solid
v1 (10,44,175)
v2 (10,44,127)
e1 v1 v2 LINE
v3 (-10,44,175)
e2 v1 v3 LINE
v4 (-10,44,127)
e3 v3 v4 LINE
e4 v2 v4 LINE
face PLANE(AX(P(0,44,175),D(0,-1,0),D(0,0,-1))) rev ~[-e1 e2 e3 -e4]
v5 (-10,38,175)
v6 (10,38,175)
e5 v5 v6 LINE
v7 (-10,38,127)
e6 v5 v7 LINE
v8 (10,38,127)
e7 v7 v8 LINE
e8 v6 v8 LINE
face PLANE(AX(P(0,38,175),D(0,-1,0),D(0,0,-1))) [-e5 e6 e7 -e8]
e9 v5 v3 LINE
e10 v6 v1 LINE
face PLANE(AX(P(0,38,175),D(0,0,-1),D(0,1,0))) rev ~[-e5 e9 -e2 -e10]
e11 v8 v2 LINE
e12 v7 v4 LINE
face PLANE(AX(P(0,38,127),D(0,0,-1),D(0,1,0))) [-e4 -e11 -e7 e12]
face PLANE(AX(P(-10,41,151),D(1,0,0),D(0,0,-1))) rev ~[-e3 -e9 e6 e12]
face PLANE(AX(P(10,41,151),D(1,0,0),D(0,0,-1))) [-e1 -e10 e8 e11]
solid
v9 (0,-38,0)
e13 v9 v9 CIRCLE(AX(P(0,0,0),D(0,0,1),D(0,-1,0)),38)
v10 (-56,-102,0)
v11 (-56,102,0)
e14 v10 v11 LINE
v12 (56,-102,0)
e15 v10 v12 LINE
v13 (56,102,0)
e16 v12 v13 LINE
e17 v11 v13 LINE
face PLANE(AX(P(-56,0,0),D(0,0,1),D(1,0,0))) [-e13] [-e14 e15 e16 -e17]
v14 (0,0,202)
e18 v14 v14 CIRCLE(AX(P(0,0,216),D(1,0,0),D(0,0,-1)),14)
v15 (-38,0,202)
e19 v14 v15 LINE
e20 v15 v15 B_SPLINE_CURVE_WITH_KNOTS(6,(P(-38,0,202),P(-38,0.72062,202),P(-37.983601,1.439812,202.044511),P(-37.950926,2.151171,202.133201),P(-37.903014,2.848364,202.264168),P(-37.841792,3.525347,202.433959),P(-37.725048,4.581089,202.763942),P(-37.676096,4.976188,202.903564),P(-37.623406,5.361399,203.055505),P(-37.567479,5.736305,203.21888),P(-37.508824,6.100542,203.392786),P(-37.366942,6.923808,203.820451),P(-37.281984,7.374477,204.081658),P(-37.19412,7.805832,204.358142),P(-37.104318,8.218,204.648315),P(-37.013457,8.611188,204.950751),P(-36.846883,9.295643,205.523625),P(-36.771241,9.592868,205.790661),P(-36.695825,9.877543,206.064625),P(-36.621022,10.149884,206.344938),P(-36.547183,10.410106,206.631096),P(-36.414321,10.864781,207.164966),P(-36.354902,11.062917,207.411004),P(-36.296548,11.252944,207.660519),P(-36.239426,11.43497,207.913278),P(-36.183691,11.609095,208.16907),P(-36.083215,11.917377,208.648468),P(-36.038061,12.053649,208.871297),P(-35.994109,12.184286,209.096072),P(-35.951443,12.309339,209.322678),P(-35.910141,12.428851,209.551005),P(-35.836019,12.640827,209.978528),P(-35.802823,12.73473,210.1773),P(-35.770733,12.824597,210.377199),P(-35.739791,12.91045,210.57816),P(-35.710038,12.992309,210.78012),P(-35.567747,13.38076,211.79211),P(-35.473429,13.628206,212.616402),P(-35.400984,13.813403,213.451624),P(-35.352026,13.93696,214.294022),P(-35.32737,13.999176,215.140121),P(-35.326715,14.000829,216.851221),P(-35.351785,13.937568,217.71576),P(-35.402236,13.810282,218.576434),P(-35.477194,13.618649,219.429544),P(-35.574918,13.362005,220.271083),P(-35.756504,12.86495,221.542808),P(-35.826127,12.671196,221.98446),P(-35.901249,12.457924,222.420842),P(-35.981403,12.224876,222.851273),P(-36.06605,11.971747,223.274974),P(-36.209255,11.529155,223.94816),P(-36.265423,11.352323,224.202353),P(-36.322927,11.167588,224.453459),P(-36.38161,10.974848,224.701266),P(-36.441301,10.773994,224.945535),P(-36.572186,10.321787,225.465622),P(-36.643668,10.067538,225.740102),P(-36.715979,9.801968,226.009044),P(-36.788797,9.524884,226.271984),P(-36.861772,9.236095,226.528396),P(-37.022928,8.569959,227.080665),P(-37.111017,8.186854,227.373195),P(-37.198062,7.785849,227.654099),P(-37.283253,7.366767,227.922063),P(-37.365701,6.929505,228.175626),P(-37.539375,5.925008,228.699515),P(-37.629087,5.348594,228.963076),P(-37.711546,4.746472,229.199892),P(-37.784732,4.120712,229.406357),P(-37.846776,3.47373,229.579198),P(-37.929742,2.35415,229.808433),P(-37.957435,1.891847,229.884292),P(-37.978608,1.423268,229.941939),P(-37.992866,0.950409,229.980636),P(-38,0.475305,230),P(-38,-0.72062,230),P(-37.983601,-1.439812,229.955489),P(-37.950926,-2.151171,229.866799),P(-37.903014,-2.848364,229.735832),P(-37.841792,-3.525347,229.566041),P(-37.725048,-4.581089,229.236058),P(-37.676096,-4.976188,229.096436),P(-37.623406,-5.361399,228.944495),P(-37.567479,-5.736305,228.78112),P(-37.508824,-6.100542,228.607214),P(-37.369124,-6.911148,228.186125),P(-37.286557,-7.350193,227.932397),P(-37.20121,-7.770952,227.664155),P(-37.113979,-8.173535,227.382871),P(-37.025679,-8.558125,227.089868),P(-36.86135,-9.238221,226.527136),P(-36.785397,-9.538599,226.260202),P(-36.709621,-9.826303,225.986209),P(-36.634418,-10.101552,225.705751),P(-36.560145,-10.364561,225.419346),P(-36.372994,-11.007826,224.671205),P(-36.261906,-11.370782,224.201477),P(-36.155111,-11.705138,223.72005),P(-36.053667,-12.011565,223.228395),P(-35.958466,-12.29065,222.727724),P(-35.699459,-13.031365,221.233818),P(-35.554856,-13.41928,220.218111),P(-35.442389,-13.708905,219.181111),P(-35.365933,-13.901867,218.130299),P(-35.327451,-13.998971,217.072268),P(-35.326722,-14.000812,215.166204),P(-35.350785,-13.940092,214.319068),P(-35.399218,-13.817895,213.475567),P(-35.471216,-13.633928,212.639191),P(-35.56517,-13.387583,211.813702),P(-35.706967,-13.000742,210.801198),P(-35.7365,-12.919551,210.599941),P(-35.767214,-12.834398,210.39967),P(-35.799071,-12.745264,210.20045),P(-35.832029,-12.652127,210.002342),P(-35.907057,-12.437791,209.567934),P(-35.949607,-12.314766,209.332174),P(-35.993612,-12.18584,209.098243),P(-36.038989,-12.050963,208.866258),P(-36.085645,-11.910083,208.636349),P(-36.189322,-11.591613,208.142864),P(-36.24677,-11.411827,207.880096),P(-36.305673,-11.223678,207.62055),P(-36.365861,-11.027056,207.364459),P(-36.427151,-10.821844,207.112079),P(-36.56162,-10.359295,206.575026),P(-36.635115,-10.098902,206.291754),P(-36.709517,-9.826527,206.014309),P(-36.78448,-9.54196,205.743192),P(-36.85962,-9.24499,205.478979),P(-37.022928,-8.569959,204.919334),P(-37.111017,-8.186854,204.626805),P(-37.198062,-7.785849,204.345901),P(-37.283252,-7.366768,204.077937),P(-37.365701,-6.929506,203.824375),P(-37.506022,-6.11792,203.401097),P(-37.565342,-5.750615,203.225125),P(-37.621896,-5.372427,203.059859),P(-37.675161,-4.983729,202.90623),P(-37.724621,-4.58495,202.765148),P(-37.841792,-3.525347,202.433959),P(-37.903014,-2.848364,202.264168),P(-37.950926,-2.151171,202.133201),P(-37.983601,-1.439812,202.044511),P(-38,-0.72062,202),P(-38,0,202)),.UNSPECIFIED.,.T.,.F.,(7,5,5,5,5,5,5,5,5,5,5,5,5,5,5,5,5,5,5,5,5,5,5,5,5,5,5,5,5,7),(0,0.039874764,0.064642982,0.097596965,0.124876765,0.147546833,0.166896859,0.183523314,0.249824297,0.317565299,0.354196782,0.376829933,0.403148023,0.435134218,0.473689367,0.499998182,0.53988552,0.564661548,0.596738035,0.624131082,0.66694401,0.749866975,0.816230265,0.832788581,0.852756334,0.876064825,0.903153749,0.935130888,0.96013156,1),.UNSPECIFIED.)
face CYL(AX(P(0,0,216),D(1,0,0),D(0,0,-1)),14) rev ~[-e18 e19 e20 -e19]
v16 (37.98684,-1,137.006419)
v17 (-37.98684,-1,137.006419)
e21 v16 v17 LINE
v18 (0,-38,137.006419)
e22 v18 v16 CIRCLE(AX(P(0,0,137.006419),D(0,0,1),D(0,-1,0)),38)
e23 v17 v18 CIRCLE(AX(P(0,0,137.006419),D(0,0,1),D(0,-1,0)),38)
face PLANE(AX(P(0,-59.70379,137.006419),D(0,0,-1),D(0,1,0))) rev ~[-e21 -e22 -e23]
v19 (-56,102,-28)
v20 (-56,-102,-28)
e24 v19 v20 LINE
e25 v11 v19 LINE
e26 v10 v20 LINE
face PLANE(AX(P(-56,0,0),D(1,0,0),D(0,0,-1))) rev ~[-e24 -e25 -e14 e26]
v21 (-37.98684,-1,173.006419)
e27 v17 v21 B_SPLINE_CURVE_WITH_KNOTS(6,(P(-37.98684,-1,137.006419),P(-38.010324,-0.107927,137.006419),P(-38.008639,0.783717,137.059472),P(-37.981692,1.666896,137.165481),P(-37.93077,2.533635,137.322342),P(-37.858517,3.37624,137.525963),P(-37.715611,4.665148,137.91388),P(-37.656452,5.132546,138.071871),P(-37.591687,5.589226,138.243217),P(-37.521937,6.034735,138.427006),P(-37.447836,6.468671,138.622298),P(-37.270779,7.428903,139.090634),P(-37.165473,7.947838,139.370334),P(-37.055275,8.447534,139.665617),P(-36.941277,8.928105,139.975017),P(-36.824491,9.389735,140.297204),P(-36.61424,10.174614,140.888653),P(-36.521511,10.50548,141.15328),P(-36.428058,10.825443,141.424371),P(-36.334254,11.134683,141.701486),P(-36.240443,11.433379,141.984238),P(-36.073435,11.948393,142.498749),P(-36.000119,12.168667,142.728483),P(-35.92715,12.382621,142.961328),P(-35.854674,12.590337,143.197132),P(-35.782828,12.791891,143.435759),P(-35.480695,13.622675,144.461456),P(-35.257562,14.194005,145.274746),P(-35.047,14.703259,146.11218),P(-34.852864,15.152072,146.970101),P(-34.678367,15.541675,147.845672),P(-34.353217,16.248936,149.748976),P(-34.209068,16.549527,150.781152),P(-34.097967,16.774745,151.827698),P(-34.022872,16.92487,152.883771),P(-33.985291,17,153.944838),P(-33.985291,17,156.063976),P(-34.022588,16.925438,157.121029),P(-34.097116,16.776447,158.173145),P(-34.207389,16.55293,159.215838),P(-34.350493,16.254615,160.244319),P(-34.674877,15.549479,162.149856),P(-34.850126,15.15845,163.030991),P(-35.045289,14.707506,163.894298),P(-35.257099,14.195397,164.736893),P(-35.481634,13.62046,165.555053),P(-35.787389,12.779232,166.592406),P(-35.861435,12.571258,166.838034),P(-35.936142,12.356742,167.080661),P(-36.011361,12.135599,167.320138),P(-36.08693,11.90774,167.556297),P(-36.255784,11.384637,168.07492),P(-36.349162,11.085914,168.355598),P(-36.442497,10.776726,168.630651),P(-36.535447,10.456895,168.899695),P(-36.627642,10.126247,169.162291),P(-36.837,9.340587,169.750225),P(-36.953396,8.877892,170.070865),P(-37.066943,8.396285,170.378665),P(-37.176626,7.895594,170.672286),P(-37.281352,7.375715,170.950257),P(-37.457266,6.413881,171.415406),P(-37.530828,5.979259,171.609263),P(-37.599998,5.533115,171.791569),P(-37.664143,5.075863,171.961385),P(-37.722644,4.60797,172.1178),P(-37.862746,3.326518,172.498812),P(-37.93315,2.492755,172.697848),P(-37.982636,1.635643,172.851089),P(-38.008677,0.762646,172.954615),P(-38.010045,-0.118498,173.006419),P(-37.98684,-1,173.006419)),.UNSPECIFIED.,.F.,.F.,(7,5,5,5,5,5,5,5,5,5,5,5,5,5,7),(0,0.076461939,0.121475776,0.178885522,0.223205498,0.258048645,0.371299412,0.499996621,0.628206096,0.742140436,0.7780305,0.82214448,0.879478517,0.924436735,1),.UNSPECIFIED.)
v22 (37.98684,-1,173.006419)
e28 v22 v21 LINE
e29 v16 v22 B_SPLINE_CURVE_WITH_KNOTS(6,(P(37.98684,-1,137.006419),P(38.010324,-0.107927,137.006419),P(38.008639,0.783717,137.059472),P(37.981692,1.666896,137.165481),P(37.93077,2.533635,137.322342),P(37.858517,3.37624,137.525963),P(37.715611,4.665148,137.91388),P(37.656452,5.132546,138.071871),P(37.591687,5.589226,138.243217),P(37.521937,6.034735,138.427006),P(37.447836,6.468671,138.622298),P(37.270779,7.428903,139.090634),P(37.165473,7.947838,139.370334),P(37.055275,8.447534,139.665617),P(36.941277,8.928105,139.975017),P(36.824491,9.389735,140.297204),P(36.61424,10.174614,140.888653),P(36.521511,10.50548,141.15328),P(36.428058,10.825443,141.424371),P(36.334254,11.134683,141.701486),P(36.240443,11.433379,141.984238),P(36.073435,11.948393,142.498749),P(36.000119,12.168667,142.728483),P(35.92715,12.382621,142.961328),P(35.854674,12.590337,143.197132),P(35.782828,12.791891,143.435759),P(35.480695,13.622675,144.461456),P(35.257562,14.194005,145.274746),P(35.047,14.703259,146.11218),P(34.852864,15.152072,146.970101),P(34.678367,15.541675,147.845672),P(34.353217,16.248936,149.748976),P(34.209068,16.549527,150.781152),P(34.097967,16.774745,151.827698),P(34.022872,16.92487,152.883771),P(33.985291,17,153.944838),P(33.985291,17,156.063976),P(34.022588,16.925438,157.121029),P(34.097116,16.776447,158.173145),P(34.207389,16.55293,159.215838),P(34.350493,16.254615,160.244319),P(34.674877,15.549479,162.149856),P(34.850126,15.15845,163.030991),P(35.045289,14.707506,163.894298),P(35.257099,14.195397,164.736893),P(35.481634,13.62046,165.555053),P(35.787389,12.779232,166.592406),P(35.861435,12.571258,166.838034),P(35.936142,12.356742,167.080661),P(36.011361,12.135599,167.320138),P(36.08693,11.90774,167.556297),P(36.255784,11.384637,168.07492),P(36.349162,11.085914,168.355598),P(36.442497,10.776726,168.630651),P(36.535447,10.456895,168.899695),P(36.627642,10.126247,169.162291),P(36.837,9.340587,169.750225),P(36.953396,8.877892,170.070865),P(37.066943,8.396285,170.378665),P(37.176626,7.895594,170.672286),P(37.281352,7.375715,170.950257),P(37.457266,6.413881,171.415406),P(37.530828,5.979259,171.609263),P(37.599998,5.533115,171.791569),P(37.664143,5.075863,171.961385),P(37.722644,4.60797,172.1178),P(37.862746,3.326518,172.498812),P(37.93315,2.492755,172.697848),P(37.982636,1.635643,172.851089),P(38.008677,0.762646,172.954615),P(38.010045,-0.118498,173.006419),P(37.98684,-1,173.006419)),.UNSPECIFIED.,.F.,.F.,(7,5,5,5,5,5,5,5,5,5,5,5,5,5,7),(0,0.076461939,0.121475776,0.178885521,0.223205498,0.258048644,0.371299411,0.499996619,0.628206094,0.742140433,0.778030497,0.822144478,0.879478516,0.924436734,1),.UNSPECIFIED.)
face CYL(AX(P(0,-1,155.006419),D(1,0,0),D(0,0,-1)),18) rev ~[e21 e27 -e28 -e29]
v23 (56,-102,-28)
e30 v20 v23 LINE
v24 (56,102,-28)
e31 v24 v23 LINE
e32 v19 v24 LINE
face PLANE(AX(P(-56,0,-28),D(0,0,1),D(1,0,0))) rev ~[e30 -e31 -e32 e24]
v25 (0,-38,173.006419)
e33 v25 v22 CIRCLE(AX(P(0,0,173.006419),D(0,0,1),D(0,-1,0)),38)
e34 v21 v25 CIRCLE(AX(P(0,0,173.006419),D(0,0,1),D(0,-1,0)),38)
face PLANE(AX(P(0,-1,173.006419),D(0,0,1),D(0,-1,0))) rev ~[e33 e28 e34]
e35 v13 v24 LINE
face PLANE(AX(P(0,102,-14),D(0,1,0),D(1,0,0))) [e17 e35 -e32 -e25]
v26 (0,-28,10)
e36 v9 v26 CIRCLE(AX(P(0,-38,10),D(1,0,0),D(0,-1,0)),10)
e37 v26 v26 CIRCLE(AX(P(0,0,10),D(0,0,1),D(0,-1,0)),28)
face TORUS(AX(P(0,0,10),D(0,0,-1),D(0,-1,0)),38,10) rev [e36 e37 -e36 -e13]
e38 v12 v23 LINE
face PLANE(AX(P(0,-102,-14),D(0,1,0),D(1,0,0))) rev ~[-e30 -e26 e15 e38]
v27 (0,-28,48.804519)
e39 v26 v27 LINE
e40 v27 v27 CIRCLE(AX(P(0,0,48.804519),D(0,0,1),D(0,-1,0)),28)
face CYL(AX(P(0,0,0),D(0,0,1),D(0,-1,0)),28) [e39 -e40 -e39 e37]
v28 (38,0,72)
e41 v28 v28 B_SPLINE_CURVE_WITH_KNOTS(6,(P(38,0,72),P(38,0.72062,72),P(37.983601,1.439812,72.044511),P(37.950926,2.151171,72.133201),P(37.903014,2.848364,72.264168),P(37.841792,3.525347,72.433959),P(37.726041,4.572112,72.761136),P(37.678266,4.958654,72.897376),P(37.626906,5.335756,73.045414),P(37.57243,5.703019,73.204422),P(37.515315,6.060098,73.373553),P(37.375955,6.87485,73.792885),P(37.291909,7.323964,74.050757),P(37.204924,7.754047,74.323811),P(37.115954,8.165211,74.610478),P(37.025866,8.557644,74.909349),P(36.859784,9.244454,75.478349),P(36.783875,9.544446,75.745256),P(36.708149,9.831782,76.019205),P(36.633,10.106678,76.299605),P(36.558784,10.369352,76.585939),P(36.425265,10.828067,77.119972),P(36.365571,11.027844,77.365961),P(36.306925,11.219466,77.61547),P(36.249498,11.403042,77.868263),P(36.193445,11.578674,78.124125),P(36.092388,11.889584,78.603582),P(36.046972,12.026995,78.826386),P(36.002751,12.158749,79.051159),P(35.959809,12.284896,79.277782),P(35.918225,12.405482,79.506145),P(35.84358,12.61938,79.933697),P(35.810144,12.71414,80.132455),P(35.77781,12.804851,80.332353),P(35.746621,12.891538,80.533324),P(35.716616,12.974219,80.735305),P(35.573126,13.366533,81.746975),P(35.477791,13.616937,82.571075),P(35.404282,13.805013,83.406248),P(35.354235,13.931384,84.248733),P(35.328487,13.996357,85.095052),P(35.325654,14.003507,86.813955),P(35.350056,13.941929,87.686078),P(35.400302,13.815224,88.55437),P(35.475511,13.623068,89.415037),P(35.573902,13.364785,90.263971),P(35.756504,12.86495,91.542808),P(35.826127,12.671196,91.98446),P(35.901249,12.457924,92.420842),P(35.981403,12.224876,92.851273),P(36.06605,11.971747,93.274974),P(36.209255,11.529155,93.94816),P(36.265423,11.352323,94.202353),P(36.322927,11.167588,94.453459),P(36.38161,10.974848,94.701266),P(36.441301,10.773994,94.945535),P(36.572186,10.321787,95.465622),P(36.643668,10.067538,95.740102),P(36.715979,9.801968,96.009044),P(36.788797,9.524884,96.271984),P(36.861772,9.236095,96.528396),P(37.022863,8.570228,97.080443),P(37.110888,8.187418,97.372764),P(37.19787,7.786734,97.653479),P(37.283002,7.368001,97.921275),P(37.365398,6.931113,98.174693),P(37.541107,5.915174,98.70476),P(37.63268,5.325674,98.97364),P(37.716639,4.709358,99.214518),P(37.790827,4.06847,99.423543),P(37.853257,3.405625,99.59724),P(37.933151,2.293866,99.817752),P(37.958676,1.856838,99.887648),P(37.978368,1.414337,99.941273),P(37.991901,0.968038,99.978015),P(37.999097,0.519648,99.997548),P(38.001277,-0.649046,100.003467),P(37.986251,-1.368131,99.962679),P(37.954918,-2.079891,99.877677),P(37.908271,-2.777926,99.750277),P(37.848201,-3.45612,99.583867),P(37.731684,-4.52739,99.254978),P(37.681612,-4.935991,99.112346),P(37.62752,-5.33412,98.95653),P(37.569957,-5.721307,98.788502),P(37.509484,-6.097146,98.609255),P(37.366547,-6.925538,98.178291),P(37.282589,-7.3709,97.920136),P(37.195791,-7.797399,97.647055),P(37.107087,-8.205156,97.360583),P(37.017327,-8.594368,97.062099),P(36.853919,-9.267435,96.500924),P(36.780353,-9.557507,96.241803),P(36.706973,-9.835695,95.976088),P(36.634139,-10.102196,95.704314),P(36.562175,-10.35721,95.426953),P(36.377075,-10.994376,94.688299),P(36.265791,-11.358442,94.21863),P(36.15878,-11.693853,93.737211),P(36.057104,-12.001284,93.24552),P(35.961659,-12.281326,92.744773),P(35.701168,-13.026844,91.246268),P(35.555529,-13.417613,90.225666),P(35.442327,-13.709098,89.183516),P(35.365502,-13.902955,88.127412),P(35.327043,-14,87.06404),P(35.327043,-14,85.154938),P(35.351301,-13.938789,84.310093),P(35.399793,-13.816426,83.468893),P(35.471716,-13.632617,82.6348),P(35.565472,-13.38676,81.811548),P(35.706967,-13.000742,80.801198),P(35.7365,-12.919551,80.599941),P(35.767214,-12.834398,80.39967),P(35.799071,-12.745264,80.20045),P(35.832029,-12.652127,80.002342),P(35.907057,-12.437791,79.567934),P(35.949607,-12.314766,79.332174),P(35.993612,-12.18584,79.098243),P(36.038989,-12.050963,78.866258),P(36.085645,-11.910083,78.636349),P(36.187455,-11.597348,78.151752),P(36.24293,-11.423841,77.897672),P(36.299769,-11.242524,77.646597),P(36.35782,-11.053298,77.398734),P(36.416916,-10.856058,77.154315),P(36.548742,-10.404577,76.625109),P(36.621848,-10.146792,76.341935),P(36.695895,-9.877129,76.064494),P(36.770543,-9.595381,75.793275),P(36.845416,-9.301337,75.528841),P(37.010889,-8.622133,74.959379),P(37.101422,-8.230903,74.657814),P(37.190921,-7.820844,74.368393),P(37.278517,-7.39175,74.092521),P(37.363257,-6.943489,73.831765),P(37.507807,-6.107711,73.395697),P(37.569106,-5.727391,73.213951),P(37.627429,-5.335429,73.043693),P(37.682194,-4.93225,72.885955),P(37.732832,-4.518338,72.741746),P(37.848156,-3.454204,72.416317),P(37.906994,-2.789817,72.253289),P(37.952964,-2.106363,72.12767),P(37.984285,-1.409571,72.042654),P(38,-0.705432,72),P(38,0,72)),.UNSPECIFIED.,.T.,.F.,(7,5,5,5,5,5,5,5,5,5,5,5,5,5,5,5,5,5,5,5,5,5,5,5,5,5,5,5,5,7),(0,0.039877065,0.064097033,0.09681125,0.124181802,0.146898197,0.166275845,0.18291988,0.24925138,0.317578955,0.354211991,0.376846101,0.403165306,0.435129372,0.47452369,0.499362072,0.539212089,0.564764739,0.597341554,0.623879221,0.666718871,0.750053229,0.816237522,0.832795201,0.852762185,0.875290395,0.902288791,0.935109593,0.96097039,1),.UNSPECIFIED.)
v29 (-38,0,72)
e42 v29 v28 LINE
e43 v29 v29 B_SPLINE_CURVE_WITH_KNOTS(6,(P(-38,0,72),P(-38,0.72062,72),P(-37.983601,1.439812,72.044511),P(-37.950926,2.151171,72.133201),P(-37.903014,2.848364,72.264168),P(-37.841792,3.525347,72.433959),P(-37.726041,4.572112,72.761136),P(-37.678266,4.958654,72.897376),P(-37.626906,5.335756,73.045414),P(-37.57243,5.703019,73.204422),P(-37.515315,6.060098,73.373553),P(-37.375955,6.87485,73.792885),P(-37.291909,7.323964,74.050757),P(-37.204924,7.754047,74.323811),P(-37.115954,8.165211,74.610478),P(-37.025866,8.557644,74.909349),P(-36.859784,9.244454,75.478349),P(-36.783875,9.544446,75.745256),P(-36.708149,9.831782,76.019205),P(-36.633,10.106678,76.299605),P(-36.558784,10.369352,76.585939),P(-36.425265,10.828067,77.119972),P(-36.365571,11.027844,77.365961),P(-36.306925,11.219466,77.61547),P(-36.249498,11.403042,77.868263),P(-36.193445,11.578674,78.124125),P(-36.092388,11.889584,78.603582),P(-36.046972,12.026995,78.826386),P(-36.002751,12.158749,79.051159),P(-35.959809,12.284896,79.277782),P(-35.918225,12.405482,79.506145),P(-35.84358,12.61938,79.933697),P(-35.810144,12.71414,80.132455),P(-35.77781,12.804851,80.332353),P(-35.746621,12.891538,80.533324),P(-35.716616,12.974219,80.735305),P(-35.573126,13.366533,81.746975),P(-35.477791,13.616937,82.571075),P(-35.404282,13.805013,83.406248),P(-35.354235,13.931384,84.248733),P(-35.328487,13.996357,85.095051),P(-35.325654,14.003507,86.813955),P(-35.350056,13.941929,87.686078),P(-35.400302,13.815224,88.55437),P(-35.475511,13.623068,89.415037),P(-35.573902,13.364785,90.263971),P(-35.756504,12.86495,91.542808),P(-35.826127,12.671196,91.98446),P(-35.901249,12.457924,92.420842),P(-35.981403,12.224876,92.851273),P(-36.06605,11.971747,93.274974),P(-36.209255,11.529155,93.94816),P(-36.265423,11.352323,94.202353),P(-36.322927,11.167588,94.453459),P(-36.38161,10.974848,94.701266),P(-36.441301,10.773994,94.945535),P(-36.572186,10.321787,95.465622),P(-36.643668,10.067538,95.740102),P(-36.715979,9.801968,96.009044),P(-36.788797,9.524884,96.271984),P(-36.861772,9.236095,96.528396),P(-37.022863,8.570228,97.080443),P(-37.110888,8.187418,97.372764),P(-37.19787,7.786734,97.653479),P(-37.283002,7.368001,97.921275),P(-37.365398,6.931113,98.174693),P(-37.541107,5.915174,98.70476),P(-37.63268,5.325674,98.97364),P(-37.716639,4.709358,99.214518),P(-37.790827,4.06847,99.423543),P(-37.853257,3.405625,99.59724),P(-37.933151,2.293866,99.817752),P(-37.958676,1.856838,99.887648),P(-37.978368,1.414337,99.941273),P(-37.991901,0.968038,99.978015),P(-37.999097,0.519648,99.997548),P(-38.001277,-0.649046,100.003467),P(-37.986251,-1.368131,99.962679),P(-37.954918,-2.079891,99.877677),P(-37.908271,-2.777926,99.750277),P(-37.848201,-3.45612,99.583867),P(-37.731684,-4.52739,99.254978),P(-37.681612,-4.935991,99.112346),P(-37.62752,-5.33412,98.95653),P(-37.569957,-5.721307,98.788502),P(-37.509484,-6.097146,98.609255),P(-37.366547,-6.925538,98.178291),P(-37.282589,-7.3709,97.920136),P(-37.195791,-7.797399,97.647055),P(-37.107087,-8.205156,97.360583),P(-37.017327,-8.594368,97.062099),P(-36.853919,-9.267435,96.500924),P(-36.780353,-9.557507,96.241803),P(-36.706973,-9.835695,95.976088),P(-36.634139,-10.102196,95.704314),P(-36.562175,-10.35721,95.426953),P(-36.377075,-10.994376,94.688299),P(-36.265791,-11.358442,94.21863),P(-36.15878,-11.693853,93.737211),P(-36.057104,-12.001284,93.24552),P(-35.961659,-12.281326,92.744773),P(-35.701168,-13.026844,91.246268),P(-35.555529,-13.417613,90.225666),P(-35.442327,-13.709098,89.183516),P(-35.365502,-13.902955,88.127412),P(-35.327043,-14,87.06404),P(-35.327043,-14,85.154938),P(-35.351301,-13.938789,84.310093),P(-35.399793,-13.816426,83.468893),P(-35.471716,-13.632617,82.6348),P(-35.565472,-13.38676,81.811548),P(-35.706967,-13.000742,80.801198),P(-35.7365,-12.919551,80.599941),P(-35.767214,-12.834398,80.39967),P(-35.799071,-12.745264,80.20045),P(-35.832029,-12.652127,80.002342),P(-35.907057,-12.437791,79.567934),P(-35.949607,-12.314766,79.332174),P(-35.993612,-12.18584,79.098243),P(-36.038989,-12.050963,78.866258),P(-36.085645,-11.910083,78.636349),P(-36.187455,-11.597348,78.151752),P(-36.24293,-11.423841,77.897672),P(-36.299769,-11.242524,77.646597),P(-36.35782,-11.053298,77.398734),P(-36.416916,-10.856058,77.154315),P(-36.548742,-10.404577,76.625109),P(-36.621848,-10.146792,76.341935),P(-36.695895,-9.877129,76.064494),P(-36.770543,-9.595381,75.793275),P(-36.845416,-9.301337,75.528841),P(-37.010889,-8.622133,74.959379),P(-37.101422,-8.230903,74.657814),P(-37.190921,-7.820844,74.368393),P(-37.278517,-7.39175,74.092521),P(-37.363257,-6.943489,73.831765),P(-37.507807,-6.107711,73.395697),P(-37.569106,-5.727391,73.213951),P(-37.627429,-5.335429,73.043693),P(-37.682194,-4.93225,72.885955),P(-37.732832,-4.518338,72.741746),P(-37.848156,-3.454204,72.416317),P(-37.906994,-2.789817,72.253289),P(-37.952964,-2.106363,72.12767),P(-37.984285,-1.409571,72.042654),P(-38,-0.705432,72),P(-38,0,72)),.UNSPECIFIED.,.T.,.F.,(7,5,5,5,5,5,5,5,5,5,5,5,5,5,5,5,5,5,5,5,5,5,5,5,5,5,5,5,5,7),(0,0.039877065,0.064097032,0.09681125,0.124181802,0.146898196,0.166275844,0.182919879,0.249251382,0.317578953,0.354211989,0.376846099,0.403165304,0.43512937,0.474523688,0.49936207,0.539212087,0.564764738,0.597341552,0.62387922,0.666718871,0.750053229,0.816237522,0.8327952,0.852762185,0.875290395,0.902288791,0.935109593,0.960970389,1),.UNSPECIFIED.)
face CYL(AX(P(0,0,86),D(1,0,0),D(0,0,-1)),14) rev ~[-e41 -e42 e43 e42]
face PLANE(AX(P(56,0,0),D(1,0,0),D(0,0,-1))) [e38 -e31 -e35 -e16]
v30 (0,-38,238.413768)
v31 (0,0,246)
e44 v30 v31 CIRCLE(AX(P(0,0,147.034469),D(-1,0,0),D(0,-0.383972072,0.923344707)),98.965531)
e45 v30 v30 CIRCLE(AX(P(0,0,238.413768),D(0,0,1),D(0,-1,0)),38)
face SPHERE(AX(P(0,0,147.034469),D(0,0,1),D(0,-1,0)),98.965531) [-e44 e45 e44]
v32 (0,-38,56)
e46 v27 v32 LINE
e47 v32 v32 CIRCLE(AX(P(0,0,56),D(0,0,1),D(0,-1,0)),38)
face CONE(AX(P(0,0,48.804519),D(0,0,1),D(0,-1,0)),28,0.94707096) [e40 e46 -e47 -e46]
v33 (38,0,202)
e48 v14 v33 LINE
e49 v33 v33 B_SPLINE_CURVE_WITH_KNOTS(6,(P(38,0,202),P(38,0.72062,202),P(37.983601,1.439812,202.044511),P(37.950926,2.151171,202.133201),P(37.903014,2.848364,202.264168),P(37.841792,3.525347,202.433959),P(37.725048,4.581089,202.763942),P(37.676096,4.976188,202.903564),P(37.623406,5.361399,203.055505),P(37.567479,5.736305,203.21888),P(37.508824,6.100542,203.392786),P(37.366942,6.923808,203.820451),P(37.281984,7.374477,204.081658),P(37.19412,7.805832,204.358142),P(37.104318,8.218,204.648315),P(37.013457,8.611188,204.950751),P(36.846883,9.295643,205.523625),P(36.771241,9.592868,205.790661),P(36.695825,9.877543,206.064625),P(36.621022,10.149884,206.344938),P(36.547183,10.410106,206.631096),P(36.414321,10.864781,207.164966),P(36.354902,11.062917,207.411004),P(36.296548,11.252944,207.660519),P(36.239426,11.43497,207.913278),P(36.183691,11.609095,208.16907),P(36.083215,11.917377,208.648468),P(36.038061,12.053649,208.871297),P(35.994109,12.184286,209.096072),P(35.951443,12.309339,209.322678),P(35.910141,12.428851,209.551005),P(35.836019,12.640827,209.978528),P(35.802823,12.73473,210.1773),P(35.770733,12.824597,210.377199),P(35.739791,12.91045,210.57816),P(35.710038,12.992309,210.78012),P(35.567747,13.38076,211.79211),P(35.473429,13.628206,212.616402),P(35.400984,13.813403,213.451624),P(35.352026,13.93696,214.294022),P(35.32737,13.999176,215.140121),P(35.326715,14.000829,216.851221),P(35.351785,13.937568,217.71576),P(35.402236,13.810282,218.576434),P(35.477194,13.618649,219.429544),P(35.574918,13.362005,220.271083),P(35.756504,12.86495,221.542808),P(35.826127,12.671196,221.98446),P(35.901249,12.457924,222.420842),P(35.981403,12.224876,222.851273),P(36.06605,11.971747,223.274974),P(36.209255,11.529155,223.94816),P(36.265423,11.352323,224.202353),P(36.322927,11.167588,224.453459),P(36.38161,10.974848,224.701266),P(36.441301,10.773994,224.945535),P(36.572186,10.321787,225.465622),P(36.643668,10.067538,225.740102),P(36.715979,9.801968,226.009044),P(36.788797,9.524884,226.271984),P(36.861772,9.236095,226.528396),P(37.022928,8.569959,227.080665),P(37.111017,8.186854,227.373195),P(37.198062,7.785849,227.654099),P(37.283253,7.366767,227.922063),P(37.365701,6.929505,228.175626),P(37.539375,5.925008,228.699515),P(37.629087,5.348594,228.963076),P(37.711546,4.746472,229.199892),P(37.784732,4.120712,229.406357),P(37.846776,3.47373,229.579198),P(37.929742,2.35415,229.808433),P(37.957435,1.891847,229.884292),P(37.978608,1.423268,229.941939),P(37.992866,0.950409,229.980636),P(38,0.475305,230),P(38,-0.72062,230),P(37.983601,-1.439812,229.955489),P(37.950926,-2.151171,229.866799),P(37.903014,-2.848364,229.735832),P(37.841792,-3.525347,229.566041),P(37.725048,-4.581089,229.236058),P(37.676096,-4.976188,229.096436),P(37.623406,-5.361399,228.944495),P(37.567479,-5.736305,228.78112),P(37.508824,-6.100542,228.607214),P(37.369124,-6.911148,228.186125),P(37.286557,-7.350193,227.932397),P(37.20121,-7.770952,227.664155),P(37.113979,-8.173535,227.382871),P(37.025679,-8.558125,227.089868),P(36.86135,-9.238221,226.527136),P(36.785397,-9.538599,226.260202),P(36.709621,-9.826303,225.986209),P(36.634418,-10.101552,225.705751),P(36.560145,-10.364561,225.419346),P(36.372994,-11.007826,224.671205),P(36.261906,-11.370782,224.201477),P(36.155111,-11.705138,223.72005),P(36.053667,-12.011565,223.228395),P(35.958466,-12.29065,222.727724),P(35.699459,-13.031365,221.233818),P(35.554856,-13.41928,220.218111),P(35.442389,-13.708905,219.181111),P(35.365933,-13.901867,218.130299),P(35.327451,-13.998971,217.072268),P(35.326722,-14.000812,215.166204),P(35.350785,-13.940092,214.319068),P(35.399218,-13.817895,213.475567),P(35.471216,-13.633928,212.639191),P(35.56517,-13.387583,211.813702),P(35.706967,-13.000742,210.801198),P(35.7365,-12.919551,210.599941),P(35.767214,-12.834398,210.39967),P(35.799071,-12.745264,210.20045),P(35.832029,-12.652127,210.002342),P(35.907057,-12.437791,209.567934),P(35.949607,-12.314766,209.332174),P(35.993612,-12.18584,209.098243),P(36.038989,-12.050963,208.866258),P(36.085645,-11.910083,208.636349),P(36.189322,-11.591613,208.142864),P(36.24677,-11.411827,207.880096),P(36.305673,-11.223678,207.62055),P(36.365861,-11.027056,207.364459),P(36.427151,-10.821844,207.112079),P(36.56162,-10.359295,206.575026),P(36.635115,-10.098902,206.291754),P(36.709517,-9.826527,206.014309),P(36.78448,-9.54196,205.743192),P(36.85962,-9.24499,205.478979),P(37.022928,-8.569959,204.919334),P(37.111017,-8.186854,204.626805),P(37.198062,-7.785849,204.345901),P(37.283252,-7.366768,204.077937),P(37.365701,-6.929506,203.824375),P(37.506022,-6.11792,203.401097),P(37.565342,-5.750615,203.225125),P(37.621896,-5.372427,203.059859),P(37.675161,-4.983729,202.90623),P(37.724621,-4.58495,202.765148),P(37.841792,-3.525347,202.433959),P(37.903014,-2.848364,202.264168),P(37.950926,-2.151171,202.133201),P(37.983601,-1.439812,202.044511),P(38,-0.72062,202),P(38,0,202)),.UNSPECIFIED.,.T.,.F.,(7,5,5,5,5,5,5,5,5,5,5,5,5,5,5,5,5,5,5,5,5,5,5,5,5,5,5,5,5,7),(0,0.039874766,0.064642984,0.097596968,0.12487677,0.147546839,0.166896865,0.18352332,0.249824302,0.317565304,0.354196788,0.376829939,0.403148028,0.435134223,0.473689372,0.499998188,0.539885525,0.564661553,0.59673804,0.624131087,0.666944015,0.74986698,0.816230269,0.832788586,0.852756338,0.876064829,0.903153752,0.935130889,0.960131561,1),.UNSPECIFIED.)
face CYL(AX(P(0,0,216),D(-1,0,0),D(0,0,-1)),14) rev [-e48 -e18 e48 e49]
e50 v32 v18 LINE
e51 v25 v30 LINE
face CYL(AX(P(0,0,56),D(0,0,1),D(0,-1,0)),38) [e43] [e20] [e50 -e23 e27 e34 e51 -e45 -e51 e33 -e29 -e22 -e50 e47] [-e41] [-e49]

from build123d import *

# Parameters (mm, degrees)
SKETCH2_W           = 112
SKETCH2_H           = 28
BOSS_EXTRUDE1_DEPTH = 102
SKETCH7_R           = 14
CUT_EXTRUDE1_DEPTH  = 102
SKETCH8_W           = 48
SKETCH8_H           = 6
BOSS_EXTRUDE3_DEPTH = 10
CUT_EXTRUDE2_DEPTH  = 62
FILLET5_R           = 10


with BuildPart() as part:
    # Sketch2 → Boss-Extrude1 (new body, symmetric)
    with BuildSketch(Plane(origin=(0, 0, 0), x_dir=(1, 0, 0), z_dir=(0, 1, 0))):
        with Locations((0, 14)):
            Rectangle(SKETCH2_W, SKETCH2_H)
    extrude(amount=BOSS_EXTRUDE1_DEPTH, both=True)

    # Sketch6 → Revolve2 (revolve)
    with BuildSketch(Plane(origin=(0, 0, 0), x_dir=(0, 0, -1), z_dir=(1, 0, 0))):
        with BuildLine():
            Line((0, -28), (-48.804519097, -28))
            Line((-48.804519097, -28), (-56, -38))
            Line((-56, -38), (-238.413768212, -38))
            ThreePointArc((-238.413768212, -38), (-244.084912572, -19.374925243), (-246, 0))
            Line((-246, 0), (-147.034469102, 0))
            Line((-147.034469102, 0), (0, 0))
            Line((0, 0), (0, -28))
        make_face()
    revolve(axis=Axis((0, 0, 0), (0, 0, 1)))

    # Sketch7 → Cut-Extrude1 (cut, symmetric)
    with BuildSketch(Plane(origin=(0, 0, 0), x_dir=(0, 0, -1), z_dir=(1, 0, 0))):
        with Locations((-216, 0)):
            Circle(SKETCH7_R)
        with Locations((-86, 0)):
            Circle(SKETCH7_R)
    extrude(amount=CUT_EXTRUDE1_DEPTH, both=True, mode=Mode.SUBTRACT)

    # Sketch11 → Cut-Extrude2 (cut, symmetric)
    with BuildSketch(Plane(origin=(0, 0, 0), x_dir=(0, 0, -1), z_dir=(1, 0, 0))):
        with BuildLine():
            Line((-173.006418676, -1), (-173.006418676, -59.703789586))
            Line((-173.006418676, -59.703789586), (-137.006418676, -59.703789586))
            Line((-137.006418676, -59.703789586), (-137.006418676, -1))
            ThreePointArc((-137.006418676, -1), (-155.006418676, 17), (-173.006418676, -1))
        make_face()
    extrude(amount=CUT_EXTRUDE2_DEPTH, both=True, mode=Mode.SUBTRACT)

    # Fillet5
    fillet5_edges = [part.edges().sort_by_distance(p)[0] for p in [
        (0, 28, 0),
    ]]
    fillet(fillet5_edges, radius=FILLET5_R)


with BuildPart() as body_2:
    # Sketch8 → Boss-Extrude3 (new body, symmetric)
    with BuildSketch(Plane(origin=(0, 0, 0), x_dir=(0, 0, -1), z_dir=(1, 0, 0))):
        with Locations((-151, 41)):
            Rectangle(SKETCH8_W, SKETCH8_H)
    extrude(amount=BOSS_EXTRUDE3_DEPTH, both=True)


solid = Compound([part.part, body_2.part])
